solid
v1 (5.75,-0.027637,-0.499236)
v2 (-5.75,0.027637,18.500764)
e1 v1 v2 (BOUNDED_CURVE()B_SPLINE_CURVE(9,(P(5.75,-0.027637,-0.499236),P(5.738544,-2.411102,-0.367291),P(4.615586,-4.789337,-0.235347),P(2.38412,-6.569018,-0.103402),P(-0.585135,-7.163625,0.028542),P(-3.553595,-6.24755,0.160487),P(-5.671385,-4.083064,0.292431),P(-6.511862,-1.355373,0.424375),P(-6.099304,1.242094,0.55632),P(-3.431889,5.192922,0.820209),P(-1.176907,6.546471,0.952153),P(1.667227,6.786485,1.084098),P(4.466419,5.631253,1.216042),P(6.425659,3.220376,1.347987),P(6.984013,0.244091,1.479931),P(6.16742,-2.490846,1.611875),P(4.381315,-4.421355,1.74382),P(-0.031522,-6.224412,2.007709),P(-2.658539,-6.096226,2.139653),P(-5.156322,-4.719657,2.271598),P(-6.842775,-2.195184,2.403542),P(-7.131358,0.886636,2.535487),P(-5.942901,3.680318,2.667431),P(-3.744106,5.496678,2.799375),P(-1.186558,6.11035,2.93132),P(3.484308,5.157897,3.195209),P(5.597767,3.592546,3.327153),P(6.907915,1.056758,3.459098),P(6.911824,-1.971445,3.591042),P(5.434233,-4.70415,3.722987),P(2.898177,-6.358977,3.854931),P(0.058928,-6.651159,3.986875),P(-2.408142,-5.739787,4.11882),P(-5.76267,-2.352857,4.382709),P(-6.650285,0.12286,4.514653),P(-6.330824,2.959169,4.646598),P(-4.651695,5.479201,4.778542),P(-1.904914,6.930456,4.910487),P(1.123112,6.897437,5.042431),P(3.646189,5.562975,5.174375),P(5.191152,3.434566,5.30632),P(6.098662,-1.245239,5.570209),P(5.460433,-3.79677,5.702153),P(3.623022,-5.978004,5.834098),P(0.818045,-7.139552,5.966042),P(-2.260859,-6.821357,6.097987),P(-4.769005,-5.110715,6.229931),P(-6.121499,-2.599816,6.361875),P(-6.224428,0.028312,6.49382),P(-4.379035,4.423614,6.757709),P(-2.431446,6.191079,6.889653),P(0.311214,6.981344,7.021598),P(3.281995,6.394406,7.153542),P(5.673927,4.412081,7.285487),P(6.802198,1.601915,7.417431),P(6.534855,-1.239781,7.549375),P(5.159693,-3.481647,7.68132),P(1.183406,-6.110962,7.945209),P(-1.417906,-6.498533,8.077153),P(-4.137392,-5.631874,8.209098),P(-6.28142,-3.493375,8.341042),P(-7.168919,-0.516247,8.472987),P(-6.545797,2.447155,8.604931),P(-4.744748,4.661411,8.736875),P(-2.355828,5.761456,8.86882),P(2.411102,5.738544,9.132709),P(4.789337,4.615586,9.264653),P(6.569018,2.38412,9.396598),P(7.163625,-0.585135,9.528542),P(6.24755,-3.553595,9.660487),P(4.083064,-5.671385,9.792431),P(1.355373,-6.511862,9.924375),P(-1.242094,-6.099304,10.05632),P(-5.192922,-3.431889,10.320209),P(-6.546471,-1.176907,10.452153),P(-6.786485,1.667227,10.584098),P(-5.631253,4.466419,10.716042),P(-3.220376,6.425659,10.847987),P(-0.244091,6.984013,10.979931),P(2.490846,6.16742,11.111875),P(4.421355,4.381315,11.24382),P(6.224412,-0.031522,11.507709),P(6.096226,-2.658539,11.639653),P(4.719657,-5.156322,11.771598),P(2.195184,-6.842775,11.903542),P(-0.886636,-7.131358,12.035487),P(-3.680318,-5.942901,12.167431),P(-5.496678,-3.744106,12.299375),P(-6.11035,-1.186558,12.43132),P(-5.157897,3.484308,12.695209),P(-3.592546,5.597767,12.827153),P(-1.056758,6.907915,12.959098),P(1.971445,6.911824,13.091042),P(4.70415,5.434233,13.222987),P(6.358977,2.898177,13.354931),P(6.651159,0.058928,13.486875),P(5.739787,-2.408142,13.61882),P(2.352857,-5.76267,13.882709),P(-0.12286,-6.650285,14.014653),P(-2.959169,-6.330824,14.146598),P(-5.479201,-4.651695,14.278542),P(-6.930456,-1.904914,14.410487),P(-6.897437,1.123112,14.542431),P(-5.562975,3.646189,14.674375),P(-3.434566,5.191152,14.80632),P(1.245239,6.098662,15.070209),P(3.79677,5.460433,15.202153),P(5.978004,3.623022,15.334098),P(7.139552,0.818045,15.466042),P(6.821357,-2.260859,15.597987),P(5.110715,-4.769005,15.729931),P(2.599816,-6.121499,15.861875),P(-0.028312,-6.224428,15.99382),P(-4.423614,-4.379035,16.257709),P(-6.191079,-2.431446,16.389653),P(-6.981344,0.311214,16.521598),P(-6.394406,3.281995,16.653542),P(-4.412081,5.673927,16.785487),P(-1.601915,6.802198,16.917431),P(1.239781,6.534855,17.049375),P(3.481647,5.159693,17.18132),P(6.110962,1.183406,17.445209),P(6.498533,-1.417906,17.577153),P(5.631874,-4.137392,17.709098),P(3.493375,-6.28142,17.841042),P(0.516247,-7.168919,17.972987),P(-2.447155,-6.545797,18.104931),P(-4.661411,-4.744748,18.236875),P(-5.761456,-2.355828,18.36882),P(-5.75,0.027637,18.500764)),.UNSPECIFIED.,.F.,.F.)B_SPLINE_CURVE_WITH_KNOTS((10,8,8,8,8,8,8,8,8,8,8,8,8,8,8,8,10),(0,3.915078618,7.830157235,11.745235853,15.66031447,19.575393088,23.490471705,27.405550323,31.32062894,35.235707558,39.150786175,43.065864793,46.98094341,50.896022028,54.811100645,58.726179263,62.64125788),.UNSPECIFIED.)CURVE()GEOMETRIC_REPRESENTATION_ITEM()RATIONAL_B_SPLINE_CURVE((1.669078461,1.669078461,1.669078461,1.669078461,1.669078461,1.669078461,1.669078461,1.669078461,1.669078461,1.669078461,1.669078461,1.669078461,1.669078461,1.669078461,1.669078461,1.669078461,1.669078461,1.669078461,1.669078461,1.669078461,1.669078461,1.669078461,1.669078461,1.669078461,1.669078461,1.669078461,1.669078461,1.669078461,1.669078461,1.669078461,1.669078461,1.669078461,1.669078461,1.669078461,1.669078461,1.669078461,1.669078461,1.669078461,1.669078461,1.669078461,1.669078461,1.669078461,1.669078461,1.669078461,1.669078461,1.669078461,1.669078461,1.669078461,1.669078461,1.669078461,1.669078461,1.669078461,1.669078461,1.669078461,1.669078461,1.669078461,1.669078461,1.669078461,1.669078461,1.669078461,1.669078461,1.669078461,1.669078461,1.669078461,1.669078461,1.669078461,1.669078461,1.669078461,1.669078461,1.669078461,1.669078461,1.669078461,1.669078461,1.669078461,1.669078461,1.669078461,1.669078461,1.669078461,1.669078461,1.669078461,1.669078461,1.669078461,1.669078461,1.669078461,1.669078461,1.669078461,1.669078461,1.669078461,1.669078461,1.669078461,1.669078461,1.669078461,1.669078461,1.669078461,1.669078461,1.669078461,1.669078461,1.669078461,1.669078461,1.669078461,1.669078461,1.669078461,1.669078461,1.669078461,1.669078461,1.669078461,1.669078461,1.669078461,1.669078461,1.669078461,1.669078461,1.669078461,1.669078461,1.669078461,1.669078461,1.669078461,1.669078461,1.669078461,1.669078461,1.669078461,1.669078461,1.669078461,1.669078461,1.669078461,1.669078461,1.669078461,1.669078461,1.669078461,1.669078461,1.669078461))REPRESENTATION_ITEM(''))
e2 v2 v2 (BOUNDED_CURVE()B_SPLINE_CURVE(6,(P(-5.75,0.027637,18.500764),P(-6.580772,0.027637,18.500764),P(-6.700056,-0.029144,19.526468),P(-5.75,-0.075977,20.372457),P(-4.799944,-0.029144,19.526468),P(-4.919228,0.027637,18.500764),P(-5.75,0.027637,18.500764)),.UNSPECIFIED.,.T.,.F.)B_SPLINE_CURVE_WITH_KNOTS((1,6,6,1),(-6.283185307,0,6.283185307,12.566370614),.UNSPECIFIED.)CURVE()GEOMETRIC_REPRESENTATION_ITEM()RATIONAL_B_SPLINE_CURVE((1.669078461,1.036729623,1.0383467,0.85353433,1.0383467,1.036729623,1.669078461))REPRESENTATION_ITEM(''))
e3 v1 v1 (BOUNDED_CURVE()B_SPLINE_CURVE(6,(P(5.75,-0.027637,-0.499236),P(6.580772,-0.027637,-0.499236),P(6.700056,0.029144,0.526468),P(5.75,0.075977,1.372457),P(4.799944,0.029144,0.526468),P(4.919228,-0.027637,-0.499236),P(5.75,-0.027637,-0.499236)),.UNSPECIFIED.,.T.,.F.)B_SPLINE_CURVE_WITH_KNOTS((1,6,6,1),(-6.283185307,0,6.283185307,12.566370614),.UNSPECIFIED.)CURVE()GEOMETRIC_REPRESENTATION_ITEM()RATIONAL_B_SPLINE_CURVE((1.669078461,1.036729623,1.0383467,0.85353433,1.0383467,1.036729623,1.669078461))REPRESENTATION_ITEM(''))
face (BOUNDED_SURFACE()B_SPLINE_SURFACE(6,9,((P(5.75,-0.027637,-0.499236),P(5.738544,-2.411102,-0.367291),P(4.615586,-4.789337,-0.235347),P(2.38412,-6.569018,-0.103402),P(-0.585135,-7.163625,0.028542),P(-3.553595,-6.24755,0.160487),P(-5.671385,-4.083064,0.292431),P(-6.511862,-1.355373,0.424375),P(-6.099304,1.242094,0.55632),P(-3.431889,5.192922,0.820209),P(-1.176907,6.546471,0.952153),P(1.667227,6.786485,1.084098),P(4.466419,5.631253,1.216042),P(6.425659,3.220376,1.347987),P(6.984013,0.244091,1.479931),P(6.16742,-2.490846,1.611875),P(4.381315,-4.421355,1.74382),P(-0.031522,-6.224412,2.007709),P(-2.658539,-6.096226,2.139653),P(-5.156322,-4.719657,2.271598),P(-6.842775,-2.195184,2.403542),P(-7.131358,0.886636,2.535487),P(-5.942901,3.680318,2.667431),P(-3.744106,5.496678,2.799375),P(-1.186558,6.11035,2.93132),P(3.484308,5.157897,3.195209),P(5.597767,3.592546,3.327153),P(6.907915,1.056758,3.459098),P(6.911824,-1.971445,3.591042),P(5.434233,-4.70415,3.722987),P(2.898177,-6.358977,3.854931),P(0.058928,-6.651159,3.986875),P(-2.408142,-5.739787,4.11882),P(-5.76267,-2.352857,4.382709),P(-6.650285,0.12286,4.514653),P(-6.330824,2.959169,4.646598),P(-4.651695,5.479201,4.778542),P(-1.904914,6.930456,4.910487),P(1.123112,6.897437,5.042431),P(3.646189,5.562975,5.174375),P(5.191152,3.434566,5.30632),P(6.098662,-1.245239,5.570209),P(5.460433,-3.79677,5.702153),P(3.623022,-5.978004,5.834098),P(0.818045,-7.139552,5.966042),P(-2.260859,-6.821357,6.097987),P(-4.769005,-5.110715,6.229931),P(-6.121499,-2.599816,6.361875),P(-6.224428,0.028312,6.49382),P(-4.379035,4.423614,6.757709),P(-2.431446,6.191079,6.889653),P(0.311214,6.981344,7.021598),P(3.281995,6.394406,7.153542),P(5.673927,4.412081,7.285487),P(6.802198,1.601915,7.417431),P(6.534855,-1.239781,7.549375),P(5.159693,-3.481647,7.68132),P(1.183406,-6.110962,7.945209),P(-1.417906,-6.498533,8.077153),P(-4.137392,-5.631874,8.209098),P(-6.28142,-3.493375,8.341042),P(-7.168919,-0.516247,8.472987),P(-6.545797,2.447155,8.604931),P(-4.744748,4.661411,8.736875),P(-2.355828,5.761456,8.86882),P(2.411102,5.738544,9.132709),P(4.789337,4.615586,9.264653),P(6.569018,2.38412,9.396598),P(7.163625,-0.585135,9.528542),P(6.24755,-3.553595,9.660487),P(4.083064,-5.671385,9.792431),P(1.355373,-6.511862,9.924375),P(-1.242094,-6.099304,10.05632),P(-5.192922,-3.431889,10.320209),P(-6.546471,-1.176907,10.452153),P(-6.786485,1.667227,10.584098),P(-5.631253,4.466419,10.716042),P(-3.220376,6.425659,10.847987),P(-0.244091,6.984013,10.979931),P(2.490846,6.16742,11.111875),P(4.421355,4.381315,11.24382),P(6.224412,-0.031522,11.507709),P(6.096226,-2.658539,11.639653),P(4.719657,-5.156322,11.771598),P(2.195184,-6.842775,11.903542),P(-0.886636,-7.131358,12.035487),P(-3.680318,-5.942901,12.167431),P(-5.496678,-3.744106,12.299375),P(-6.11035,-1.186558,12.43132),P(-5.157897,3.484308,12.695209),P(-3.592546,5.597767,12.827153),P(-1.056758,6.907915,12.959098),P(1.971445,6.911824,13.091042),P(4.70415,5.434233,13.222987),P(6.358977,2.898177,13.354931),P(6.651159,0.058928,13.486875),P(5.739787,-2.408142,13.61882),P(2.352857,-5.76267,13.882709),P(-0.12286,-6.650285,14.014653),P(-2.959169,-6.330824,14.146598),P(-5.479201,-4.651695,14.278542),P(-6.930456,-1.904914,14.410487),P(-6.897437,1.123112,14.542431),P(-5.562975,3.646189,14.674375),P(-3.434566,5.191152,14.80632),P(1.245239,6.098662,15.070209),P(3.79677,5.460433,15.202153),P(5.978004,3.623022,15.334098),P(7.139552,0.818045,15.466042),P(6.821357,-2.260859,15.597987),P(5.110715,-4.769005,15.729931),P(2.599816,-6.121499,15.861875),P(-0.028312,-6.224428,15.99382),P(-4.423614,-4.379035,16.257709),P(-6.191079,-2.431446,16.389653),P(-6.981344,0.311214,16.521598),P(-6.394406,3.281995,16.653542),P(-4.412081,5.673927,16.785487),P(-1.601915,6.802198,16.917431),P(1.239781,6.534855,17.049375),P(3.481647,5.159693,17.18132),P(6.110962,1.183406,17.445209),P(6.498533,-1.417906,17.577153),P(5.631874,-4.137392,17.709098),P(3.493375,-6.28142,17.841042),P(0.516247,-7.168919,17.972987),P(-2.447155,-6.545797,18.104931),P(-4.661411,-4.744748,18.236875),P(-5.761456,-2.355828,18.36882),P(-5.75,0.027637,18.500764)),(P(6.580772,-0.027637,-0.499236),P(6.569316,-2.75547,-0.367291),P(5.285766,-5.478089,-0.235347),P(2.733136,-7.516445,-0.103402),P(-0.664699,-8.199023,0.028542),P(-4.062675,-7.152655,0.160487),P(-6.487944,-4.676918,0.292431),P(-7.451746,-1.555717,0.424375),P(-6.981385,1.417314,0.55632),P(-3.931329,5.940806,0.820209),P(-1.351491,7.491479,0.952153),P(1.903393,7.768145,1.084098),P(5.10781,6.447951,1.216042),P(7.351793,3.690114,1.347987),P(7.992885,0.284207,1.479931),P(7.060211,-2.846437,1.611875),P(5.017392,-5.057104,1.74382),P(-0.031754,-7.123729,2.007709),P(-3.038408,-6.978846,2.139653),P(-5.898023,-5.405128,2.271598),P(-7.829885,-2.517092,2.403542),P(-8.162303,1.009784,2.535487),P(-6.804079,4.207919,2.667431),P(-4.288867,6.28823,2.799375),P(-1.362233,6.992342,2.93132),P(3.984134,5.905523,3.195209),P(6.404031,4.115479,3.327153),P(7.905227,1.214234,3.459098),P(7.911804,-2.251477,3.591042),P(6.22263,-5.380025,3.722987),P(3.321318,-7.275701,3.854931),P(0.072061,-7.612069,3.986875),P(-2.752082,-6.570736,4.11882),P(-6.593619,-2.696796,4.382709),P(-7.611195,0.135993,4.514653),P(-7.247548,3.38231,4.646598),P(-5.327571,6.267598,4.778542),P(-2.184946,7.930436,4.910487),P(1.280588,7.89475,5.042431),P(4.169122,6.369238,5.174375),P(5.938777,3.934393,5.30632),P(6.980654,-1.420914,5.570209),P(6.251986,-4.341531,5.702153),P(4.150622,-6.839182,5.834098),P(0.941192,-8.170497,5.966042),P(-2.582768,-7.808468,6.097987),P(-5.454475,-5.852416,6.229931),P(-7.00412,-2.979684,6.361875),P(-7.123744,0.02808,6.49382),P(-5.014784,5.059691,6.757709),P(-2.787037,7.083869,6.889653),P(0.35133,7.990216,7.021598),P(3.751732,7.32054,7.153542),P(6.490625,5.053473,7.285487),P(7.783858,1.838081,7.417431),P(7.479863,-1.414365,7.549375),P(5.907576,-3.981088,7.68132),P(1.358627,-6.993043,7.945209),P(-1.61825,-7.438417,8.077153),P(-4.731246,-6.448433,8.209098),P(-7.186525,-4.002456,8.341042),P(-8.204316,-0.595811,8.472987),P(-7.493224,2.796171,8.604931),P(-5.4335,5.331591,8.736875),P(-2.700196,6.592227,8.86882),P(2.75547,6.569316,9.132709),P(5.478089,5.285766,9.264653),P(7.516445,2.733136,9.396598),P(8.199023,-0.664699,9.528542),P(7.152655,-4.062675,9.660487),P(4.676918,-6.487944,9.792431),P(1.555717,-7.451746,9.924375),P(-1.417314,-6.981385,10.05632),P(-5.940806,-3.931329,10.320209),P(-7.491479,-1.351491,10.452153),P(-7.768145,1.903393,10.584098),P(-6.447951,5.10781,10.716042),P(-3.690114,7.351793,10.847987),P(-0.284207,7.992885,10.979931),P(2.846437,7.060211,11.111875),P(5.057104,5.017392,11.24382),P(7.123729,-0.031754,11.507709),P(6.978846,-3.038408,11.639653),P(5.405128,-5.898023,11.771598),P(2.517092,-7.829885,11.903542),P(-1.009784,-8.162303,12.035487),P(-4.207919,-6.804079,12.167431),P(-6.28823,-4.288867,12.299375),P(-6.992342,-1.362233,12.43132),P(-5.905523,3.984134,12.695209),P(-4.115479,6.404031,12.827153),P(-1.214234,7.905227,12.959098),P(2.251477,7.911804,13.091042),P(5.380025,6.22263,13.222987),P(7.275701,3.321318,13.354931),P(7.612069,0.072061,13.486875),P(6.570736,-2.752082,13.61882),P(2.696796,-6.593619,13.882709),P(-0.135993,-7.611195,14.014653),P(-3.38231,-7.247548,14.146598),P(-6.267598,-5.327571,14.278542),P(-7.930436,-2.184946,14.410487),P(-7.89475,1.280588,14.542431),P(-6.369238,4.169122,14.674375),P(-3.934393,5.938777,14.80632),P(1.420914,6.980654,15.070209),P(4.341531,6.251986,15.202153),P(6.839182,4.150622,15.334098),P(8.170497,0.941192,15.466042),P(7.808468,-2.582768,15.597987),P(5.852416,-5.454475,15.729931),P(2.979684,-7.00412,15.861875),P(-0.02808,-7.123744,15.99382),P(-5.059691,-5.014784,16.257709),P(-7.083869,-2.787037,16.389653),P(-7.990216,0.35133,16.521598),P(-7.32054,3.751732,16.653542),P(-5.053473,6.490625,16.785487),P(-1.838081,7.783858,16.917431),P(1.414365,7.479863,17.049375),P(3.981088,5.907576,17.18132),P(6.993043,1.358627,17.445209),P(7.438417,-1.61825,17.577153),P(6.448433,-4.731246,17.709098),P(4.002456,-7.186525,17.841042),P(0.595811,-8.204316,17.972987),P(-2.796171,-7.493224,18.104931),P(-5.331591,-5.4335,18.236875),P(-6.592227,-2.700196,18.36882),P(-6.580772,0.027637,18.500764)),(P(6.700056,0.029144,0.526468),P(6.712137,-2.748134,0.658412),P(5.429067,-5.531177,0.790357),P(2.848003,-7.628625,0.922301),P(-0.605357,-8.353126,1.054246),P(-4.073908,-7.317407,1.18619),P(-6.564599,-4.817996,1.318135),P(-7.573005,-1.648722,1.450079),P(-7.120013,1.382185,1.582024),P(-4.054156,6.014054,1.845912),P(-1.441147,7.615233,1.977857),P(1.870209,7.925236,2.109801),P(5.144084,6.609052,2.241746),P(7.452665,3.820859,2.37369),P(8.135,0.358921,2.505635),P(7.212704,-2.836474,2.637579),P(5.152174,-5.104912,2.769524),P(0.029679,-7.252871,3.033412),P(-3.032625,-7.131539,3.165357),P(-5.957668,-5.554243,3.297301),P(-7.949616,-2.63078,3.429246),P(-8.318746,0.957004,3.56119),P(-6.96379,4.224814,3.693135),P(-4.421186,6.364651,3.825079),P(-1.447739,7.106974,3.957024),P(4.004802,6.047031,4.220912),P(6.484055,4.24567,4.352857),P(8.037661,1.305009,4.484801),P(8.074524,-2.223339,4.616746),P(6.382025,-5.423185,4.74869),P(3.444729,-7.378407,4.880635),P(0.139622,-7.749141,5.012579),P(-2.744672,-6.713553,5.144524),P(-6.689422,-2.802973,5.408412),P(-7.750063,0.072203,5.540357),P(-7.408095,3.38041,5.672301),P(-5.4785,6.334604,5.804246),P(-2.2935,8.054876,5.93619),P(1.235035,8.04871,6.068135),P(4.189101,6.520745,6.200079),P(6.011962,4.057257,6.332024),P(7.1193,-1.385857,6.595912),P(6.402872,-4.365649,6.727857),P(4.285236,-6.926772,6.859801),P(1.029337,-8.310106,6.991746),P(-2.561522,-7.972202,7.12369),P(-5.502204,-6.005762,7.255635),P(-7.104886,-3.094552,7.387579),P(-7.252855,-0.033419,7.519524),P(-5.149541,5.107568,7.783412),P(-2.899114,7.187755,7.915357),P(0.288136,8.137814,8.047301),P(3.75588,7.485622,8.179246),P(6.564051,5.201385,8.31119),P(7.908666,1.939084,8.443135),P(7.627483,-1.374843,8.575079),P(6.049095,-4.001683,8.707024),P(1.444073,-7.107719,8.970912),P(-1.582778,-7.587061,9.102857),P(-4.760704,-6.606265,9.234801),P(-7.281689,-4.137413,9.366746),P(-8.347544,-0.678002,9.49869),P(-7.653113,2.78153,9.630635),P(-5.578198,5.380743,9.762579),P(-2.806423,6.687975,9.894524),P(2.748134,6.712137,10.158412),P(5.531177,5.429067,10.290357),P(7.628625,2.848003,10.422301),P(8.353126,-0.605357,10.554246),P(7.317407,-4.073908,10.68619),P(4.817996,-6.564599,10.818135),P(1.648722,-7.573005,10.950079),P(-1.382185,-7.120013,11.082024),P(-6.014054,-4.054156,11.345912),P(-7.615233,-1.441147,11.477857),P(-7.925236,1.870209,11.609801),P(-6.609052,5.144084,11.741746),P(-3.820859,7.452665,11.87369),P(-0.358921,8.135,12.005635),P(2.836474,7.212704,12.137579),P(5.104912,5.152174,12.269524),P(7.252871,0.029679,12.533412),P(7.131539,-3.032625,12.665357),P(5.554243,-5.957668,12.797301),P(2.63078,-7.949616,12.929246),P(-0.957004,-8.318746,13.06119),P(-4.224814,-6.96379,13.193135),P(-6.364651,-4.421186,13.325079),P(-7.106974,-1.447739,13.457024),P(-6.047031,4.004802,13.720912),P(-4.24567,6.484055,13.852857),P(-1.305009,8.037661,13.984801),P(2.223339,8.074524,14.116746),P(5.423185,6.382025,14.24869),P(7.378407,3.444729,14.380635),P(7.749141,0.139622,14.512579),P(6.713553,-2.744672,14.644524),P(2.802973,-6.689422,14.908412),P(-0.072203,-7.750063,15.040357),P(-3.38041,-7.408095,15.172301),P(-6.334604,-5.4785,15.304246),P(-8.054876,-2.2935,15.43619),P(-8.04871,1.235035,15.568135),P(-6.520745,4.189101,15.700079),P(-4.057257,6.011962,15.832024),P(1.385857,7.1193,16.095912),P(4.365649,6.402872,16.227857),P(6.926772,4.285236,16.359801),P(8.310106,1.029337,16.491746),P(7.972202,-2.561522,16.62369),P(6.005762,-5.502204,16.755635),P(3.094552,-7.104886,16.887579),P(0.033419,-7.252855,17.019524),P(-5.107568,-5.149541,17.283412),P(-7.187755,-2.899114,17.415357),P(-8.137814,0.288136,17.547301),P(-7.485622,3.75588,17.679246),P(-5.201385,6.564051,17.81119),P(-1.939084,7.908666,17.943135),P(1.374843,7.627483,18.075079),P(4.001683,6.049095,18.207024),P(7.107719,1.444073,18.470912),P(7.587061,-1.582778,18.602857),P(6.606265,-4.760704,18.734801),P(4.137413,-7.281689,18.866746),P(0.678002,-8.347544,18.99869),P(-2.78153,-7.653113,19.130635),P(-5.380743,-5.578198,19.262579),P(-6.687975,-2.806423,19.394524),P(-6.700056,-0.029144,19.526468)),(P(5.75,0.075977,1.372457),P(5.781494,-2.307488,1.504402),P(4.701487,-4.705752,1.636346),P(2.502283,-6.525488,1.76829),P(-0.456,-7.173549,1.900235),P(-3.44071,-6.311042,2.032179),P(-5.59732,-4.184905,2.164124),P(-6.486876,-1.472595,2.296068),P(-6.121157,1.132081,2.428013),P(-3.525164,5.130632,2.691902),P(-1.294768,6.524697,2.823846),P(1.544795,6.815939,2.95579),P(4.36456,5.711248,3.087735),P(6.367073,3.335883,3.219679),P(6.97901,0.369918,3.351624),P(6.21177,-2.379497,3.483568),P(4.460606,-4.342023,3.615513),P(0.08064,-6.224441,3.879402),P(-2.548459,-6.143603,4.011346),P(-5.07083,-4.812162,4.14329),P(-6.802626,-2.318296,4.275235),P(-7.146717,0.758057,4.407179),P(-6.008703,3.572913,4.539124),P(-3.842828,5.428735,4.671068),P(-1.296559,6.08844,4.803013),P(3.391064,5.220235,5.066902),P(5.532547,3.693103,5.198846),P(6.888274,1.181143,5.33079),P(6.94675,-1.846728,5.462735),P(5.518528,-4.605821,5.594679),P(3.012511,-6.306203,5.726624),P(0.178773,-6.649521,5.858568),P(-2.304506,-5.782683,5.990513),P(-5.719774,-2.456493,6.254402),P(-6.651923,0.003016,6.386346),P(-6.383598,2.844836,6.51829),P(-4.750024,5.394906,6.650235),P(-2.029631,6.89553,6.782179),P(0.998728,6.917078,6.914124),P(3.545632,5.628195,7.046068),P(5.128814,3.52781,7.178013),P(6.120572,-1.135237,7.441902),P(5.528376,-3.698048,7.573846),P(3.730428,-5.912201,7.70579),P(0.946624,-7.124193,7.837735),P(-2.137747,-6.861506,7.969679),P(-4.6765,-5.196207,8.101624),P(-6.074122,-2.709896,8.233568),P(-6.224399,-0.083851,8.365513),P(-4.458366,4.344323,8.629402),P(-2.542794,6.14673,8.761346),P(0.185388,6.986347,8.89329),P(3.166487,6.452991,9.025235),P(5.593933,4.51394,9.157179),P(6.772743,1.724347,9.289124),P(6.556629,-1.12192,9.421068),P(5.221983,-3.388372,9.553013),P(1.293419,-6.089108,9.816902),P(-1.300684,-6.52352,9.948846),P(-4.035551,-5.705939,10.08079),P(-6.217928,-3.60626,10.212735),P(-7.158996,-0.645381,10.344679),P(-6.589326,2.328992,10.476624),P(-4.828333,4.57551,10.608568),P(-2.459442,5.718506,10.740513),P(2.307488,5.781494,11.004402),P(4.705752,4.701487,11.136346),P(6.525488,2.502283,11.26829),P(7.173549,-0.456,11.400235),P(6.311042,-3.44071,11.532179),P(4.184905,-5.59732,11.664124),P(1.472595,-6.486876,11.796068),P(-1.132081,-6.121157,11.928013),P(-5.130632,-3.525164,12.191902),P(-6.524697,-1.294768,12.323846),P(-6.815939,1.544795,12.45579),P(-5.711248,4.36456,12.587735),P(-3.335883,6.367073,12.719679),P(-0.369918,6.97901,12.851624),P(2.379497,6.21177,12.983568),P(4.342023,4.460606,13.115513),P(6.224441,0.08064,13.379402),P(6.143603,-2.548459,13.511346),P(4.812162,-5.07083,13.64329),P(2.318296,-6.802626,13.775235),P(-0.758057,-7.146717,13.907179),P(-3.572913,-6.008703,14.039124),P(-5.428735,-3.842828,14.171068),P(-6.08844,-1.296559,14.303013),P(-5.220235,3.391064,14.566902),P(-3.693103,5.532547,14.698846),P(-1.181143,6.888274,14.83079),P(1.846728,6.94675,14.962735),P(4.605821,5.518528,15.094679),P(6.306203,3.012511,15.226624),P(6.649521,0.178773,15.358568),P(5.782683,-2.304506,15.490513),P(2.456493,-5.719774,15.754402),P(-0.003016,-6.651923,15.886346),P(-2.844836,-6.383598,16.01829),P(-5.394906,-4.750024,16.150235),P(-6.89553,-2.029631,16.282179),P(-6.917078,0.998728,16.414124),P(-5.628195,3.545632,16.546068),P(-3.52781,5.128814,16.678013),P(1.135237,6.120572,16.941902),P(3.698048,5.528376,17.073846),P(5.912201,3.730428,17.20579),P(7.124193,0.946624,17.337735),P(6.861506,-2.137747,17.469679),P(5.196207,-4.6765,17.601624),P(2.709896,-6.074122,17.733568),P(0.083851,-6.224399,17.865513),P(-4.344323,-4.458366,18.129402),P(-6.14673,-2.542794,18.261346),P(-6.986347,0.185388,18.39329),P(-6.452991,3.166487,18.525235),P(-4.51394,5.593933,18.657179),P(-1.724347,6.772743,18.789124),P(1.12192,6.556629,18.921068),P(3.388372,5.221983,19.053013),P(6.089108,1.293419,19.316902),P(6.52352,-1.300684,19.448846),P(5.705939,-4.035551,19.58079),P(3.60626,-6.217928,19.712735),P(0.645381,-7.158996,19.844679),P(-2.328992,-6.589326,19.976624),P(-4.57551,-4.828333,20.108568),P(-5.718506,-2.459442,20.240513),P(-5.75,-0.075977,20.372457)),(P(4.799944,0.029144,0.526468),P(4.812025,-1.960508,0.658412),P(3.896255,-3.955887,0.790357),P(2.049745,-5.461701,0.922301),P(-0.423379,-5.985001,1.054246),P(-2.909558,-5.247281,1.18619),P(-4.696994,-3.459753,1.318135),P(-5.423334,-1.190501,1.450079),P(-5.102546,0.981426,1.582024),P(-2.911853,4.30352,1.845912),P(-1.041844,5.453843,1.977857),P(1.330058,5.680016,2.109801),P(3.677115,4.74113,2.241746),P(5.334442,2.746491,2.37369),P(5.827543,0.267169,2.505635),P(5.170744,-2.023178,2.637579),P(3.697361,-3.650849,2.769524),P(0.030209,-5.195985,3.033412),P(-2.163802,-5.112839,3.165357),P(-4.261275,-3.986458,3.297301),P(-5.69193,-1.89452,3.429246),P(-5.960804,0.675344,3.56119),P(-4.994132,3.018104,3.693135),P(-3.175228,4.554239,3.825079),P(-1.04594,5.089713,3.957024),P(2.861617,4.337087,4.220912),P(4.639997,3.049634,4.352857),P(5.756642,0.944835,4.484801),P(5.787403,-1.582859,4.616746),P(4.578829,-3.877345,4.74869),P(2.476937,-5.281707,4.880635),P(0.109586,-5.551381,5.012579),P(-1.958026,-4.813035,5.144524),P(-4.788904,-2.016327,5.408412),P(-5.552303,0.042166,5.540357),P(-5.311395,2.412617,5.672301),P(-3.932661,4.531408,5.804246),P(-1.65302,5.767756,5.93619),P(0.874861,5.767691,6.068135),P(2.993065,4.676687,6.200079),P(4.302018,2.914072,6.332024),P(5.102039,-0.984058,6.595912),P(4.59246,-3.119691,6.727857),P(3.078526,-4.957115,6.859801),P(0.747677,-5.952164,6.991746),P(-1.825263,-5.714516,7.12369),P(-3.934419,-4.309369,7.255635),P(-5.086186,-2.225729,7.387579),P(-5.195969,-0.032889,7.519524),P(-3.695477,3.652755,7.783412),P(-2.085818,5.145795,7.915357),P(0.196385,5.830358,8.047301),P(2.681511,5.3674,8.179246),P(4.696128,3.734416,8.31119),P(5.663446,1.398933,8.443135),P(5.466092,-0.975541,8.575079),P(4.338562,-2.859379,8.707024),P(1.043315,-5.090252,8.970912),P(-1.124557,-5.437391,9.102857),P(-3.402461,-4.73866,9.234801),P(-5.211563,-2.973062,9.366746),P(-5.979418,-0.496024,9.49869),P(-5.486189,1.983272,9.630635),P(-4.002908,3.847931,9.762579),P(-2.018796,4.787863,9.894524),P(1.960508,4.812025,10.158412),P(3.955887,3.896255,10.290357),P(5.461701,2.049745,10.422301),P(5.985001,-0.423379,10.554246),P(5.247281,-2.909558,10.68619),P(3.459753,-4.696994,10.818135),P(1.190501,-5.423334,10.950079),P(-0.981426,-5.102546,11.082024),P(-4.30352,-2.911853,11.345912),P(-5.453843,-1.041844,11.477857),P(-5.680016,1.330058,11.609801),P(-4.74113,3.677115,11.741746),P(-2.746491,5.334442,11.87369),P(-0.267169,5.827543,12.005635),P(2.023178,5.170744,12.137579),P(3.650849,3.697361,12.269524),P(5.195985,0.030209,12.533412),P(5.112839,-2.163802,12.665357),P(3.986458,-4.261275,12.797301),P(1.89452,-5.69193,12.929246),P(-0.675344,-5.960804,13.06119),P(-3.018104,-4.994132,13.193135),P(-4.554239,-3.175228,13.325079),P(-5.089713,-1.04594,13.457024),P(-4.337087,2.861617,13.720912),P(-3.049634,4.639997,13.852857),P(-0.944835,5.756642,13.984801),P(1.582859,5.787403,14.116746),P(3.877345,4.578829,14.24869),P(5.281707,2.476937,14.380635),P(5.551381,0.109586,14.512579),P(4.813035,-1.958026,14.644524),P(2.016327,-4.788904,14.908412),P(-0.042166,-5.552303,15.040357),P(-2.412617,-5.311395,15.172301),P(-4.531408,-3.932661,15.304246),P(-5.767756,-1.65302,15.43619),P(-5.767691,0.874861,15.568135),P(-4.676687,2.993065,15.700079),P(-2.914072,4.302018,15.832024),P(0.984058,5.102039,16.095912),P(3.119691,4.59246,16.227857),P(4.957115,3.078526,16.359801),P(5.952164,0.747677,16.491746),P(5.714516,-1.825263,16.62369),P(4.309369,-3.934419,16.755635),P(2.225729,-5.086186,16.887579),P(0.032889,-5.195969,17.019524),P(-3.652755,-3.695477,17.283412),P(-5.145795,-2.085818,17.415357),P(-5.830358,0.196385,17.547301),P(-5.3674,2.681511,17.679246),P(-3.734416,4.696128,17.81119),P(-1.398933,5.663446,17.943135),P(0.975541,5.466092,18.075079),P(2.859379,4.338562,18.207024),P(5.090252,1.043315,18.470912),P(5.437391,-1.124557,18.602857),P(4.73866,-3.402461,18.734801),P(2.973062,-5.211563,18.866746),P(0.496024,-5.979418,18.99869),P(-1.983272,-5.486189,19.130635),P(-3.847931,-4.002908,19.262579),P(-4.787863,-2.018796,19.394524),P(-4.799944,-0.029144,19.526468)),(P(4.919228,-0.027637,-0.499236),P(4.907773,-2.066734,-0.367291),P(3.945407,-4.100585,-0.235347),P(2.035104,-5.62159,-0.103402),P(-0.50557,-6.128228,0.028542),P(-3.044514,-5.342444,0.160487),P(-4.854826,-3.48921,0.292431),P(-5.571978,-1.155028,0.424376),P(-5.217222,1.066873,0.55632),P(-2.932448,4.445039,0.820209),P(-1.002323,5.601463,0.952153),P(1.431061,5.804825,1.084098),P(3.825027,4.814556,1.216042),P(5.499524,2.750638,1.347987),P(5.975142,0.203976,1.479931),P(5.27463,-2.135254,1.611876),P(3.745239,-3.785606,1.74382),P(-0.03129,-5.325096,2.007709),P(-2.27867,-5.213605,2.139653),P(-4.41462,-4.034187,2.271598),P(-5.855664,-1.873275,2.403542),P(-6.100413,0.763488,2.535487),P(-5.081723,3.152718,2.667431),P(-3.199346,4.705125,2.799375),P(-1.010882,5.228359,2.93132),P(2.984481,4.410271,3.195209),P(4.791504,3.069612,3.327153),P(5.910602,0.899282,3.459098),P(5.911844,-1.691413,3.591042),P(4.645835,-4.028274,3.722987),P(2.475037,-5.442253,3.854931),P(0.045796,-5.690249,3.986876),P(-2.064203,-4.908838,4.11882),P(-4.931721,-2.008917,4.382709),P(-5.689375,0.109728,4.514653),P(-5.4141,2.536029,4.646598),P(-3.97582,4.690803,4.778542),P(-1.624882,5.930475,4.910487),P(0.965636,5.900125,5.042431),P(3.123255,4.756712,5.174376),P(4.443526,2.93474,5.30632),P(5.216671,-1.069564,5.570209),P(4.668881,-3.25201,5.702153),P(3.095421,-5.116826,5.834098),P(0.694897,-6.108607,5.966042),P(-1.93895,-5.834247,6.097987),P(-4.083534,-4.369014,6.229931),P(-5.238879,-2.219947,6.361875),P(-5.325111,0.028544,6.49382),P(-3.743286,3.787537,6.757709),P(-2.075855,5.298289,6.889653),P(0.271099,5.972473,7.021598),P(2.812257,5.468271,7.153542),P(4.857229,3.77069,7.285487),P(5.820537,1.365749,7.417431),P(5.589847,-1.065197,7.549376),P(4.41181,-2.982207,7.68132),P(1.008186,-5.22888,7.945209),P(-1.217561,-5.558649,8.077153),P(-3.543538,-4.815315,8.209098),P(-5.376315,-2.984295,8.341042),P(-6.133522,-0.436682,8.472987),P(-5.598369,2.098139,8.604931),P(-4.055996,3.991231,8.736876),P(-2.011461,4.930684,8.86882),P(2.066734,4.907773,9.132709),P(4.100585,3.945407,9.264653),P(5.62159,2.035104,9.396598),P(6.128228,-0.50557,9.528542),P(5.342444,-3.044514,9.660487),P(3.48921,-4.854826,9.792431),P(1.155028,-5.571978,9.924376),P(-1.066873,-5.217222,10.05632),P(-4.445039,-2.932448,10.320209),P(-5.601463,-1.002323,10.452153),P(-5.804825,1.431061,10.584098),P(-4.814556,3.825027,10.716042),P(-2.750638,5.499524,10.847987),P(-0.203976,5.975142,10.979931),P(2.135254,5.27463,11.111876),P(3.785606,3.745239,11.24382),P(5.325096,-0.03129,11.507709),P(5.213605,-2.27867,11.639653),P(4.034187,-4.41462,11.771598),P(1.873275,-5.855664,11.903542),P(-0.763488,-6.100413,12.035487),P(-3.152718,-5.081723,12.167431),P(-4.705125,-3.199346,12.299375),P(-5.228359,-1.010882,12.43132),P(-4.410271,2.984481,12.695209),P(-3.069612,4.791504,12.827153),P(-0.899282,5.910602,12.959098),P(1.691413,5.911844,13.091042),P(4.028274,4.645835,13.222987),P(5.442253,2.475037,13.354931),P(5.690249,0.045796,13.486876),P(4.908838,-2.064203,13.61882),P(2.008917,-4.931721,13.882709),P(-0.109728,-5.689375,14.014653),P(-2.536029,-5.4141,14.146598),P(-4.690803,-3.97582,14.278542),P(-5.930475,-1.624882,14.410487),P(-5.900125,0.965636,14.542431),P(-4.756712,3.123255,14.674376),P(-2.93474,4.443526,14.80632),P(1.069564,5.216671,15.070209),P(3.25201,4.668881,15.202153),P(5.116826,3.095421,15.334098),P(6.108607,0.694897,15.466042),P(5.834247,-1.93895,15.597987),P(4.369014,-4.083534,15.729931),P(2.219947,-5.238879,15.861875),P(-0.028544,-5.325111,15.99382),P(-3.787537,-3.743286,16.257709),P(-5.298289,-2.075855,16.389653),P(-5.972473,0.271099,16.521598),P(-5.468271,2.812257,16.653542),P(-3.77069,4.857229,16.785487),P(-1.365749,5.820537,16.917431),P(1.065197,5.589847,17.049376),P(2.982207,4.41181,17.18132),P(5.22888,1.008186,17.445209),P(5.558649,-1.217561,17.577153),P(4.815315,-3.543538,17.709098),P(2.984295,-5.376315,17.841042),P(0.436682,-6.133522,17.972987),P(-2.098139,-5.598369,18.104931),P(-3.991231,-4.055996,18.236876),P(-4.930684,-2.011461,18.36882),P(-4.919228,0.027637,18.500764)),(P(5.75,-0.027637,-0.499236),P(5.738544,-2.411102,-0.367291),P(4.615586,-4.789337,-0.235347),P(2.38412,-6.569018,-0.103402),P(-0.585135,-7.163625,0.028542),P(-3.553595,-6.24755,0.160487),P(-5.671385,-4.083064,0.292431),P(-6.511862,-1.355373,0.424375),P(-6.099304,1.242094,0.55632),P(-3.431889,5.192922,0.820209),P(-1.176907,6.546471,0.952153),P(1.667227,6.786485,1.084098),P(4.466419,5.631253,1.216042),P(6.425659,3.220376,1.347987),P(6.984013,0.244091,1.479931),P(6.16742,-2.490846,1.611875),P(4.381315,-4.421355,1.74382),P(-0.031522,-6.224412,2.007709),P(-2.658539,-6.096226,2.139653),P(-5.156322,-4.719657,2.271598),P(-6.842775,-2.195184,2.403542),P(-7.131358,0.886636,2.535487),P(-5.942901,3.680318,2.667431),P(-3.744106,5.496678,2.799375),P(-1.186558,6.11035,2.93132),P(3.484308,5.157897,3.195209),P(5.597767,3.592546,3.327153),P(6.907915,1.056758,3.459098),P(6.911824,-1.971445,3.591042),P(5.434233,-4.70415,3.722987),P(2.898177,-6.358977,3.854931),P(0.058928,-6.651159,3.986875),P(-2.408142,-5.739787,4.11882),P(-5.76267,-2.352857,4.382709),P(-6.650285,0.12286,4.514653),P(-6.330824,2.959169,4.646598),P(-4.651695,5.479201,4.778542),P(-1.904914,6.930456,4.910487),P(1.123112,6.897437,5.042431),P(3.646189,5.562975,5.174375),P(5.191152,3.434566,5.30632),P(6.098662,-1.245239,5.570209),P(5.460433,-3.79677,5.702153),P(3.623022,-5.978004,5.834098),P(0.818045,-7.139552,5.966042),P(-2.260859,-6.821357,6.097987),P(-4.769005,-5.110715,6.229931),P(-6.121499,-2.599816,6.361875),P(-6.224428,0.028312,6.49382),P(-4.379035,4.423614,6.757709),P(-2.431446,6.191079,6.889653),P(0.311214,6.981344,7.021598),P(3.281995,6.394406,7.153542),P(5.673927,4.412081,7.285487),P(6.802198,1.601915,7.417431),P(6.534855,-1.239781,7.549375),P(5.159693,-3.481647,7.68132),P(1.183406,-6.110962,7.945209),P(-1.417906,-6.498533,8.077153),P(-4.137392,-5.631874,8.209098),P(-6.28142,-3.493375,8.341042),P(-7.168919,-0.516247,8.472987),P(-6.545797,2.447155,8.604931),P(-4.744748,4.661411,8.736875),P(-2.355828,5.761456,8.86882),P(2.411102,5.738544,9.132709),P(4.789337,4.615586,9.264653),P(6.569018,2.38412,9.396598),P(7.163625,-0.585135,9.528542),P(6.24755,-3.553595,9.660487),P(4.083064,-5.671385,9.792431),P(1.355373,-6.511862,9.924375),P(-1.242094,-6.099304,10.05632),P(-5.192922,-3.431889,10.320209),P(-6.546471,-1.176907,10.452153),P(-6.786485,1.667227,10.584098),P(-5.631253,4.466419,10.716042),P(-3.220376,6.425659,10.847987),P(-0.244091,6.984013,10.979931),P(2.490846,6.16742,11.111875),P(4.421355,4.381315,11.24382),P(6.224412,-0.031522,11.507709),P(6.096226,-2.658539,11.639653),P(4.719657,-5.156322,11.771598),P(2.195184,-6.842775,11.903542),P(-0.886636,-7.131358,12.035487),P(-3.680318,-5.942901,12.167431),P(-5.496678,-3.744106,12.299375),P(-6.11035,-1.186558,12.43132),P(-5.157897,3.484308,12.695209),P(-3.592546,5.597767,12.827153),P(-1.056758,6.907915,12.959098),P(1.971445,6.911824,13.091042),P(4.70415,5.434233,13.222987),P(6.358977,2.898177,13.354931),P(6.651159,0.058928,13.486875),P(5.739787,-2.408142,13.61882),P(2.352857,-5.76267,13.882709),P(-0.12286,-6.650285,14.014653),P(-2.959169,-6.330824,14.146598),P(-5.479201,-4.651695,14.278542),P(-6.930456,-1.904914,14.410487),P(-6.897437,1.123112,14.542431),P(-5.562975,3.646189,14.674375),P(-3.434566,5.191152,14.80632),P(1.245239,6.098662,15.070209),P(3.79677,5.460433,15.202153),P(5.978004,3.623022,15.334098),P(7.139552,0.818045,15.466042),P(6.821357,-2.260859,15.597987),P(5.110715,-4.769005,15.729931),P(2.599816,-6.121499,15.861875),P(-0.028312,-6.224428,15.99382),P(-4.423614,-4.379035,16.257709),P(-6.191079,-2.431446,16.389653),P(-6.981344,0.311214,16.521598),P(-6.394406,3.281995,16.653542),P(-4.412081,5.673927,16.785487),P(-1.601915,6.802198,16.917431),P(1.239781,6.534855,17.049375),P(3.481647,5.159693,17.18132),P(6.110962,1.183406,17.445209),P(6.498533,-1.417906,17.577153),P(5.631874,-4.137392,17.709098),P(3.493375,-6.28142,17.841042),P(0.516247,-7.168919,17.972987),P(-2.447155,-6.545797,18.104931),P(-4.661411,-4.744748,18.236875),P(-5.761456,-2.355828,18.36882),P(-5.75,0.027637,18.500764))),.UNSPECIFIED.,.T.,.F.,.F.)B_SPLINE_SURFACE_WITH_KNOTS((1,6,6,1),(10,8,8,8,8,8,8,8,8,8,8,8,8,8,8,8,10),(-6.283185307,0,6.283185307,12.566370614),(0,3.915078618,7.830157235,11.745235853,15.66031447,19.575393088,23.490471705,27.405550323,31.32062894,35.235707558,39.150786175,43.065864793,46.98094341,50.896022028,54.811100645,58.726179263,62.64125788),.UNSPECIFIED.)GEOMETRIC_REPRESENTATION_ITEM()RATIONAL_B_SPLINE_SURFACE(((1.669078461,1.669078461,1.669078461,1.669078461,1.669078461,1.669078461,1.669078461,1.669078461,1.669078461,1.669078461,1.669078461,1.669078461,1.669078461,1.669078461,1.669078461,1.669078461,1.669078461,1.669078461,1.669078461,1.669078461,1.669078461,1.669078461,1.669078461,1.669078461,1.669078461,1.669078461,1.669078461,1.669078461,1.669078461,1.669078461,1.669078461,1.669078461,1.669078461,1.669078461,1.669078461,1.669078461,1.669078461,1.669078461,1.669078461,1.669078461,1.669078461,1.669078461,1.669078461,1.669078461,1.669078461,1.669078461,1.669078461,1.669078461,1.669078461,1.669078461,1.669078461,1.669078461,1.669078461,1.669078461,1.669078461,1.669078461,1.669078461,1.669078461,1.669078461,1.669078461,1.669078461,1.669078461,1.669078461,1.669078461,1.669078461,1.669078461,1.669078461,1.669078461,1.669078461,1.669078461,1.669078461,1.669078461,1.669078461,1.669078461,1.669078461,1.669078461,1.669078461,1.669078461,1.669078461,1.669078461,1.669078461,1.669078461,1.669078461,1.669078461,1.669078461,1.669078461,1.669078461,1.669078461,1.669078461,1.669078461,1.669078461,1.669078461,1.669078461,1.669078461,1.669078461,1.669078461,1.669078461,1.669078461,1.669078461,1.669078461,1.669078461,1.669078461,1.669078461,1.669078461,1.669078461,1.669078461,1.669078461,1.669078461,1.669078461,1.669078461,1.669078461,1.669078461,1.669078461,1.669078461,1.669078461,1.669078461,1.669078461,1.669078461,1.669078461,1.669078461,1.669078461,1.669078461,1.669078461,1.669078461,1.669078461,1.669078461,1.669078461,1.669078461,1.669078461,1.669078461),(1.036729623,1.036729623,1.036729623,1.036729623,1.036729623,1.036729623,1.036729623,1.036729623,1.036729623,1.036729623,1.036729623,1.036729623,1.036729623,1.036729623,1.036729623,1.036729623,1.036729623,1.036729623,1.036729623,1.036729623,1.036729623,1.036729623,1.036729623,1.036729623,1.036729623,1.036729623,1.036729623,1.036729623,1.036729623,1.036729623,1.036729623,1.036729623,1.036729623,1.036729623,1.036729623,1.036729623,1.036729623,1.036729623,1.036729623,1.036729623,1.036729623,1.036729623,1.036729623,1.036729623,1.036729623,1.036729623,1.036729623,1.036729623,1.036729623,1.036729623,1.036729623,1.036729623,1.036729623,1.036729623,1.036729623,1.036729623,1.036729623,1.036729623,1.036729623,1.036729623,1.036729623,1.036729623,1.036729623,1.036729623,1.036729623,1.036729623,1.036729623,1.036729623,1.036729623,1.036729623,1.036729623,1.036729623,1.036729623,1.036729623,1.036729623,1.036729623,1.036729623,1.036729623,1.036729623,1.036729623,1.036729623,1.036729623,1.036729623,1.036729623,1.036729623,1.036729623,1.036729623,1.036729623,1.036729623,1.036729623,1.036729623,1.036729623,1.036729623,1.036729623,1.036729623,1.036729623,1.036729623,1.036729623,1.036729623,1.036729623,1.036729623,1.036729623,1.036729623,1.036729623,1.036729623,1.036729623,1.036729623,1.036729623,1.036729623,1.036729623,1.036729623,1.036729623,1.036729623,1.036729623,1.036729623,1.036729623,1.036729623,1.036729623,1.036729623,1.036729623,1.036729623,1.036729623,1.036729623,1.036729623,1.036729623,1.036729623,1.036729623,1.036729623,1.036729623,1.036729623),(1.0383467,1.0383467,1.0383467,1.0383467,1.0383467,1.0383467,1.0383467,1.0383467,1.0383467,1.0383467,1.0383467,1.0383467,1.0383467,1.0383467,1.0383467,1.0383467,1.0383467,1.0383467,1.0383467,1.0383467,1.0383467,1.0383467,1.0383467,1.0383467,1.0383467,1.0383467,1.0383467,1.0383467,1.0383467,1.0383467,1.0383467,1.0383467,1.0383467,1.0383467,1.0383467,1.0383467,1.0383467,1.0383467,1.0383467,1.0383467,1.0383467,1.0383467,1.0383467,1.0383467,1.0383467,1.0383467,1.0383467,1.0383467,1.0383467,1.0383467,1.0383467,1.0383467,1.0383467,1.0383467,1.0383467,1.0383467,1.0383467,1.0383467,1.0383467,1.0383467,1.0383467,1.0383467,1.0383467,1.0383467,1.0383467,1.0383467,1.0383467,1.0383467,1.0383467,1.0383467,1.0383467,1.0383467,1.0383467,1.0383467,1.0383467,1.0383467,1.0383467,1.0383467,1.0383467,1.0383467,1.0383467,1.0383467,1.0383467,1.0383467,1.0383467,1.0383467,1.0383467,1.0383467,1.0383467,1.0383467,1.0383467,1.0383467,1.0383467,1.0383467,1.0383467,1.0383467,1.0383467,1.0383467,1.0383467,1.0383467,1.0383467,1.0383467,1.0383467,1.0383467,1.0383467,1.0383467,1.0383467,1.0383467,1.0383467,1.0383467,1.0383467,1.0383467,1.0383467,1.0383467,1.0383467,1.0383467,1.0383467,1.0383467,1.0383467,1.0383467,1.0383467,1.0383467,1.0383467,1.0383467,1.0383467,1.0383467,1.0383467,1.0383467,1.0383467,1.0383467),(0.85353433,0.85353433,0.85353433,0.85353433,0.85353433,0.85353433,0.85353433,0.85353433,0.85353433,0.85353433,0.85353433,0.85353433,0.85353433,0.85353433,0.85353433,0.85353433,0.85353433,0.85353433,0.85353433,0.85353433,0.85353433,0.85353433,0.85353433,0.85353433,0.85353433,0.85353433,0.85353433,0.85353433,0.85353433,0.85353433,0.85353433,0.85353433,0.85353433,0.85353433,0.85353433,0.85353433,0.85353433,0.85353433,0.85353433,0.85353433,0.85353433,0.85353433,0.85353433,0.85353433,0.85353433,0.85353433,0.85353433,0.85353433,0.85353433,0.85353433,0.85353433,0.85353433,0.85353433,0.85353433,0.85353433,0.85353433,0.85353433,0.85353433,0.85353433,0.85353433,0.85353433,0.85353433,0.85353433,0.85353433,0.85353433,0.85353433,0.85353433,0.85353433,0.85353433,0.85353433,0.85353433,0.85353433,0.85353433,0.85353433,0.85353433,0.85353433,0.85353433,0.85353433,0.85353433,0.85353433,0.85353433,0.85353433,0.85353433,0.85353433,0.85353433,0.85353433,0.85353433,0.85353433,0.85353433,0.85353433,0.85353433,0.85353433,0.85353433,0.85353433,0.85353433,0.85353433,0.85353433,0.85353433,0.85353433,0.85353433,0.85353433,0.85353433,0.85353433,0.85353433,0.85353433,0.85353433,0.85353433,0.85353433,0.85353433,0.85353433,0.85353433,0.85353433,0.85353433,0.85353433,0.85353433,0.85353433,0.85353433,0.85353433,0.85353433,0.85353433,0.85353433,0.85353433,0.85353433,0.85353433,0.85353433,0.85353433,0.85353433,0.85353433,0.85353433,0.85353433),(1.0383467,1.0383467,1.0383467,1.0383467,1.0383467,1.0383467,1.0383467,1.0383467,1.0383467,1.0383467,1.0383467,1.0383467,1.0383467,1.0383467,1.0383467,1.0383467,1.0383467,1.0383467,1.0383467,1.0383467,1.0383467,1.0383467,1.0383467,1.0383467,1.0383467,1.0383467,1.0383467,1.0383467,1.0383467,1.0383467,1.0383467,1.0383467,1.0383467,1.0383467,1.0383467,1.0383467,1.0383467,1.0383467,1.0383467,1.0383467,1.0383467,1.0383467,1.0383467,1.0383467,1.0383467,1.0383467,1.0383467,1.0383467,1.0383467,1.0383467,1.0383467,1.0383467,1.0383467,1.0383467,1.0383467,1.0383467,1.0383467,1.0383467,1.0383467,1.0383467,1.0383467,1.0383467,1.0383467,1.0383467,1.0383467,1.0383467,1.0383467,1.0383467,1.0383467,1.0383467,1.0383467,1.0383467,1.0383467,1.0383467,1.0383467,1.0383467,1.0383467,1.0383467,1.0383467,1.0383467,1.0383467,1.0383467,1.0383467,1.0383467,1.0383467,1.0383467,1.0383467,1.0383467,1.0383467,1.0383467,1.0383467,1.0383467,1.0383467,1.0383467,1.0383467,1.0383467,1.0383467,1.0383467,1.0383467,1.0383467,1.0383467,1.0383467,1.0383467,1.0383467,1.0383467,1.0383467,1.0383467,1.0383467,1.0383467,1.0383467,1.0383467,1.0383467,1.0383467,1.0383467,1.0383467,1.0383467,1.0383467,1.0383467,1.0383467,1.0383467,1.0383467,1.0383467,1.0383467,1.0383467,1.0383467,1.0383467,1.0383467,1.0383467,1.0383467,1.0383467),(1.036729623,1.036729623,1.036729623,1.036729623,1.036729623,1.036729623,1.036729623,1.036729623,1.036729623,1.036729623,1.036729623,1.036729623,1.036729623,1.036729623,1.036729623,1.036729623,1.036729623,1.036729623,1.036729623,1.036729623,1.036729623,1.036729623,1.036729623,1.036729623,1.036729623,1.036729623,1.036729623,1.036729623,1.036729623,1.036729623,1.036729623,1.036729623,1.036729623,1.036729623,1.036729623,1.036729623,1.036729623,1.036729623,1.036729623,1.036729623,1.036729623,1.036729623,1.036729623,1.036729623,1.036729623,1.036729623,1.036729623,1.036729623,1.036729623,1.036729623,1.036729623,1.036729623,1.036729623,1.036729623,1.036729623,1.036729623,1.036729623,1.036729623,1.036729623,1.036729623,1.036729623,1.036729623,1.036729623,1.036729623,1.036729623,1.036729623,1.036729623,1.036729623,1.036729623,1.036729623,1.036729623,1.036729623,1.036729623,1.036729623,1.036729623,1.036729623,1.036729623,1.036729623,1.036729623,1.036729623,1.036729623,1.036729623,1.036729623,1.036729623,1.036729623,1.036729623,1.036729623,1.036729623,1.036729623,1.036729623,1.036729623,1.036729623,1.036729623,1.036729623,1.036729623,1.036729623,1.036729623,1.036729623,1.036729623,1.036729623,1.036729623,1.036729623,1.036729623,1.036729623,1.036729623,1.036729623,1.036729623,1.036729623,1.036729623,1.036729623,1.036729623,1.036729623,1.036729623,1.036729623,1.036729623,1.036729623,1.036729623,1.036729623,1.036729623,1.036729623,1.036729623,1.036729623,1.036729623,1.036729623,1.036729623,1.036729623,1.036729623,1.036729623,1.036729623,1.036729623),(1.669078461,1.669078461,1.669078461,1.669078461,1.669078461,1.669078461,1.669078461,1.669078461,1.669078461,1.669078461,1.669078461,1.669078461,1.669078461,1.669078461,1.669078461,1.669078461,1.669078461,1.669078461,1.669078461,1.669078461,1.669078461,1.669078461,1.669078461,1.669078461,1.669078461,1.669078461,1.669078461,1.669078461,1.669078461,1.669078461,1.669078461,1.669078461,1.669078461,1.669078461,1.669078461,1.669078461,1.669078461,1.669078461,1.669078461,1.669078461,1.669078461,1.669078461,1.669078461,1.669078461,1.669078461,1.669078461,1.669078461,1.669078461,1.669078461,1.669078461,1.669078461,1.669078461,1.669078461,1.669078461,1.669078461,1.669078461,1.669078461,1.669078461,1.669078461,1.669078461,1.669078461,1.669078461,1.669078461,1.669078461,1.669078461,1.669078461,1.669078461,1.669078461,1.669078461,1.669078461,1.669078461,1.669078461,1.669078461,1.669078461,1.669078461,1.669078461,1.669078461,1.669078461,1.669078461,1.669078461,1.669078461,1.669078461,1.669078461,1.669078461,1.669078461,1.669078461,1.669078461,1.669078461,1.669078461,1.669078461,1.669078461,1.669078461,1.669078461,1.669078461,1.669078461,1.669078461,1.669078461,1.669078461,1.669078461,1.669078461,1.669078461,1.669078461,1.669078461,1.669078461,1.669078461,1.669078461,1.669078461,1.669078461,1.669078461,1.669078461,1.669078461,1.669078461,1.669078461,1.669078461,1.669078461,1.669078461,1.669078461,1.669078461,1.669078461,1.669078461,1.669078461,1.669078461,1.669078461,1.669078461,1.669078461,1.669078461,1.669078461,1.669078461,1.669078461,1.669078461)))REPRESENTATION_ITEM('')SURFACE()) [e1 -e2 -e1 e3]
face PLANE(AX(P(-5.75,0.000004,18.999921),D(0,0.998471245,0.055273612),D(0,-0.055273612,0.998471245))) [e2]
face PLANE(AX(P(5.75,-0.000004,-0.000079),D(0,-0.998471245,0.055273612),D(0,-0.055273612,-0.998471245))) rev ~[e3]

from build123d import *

# Parameters (mm, degrees)
T_HNOUT_PO_K_IVCE1_PITCH     = 2
T_HNOUT_PO_K_IVCE1_HEIGHT    = 19
T_HNOUT_PO_K_IVCE1_RADIUS    = 5.75
T_HNOUT_PO_K_IVCE1_PROFILE_R = 0.5


with BuildPart() as part:
    # Táhnout po křivce1: sweep along a helix
    with BuildLine() as t_hnout_po_k_ivce1_path:
        Helix(T_HNOUT_PO_K_IVCE1_PITCH, T_HNOUT_PO_K_IVCE1_HEIGHT, T_HNOUT_PO_K_IVCE1_RADIUS, center=(0, 0, 0), direction=(0, 0, 1), lefthand=True)
    # Táhnout po křivce1 profile (on start of the path) → Táhnout po křivce1 (sweep)
    with BuildSketch(Plane(origin=(5.75, 0, 0), x_dir=(0, -0.05527361190804904, -0.9984712453679567), z_dir=(-3.355898462257719e-13, -0.9984712453679567, 0.05527361190804904))):
        Circle(T_HNOUT_PO_K_IVCE1_PROFILE_R)
    sweep(path=t_hnout_po_k_ivce1_path.line, is_frenet=True)


solid = part.part
